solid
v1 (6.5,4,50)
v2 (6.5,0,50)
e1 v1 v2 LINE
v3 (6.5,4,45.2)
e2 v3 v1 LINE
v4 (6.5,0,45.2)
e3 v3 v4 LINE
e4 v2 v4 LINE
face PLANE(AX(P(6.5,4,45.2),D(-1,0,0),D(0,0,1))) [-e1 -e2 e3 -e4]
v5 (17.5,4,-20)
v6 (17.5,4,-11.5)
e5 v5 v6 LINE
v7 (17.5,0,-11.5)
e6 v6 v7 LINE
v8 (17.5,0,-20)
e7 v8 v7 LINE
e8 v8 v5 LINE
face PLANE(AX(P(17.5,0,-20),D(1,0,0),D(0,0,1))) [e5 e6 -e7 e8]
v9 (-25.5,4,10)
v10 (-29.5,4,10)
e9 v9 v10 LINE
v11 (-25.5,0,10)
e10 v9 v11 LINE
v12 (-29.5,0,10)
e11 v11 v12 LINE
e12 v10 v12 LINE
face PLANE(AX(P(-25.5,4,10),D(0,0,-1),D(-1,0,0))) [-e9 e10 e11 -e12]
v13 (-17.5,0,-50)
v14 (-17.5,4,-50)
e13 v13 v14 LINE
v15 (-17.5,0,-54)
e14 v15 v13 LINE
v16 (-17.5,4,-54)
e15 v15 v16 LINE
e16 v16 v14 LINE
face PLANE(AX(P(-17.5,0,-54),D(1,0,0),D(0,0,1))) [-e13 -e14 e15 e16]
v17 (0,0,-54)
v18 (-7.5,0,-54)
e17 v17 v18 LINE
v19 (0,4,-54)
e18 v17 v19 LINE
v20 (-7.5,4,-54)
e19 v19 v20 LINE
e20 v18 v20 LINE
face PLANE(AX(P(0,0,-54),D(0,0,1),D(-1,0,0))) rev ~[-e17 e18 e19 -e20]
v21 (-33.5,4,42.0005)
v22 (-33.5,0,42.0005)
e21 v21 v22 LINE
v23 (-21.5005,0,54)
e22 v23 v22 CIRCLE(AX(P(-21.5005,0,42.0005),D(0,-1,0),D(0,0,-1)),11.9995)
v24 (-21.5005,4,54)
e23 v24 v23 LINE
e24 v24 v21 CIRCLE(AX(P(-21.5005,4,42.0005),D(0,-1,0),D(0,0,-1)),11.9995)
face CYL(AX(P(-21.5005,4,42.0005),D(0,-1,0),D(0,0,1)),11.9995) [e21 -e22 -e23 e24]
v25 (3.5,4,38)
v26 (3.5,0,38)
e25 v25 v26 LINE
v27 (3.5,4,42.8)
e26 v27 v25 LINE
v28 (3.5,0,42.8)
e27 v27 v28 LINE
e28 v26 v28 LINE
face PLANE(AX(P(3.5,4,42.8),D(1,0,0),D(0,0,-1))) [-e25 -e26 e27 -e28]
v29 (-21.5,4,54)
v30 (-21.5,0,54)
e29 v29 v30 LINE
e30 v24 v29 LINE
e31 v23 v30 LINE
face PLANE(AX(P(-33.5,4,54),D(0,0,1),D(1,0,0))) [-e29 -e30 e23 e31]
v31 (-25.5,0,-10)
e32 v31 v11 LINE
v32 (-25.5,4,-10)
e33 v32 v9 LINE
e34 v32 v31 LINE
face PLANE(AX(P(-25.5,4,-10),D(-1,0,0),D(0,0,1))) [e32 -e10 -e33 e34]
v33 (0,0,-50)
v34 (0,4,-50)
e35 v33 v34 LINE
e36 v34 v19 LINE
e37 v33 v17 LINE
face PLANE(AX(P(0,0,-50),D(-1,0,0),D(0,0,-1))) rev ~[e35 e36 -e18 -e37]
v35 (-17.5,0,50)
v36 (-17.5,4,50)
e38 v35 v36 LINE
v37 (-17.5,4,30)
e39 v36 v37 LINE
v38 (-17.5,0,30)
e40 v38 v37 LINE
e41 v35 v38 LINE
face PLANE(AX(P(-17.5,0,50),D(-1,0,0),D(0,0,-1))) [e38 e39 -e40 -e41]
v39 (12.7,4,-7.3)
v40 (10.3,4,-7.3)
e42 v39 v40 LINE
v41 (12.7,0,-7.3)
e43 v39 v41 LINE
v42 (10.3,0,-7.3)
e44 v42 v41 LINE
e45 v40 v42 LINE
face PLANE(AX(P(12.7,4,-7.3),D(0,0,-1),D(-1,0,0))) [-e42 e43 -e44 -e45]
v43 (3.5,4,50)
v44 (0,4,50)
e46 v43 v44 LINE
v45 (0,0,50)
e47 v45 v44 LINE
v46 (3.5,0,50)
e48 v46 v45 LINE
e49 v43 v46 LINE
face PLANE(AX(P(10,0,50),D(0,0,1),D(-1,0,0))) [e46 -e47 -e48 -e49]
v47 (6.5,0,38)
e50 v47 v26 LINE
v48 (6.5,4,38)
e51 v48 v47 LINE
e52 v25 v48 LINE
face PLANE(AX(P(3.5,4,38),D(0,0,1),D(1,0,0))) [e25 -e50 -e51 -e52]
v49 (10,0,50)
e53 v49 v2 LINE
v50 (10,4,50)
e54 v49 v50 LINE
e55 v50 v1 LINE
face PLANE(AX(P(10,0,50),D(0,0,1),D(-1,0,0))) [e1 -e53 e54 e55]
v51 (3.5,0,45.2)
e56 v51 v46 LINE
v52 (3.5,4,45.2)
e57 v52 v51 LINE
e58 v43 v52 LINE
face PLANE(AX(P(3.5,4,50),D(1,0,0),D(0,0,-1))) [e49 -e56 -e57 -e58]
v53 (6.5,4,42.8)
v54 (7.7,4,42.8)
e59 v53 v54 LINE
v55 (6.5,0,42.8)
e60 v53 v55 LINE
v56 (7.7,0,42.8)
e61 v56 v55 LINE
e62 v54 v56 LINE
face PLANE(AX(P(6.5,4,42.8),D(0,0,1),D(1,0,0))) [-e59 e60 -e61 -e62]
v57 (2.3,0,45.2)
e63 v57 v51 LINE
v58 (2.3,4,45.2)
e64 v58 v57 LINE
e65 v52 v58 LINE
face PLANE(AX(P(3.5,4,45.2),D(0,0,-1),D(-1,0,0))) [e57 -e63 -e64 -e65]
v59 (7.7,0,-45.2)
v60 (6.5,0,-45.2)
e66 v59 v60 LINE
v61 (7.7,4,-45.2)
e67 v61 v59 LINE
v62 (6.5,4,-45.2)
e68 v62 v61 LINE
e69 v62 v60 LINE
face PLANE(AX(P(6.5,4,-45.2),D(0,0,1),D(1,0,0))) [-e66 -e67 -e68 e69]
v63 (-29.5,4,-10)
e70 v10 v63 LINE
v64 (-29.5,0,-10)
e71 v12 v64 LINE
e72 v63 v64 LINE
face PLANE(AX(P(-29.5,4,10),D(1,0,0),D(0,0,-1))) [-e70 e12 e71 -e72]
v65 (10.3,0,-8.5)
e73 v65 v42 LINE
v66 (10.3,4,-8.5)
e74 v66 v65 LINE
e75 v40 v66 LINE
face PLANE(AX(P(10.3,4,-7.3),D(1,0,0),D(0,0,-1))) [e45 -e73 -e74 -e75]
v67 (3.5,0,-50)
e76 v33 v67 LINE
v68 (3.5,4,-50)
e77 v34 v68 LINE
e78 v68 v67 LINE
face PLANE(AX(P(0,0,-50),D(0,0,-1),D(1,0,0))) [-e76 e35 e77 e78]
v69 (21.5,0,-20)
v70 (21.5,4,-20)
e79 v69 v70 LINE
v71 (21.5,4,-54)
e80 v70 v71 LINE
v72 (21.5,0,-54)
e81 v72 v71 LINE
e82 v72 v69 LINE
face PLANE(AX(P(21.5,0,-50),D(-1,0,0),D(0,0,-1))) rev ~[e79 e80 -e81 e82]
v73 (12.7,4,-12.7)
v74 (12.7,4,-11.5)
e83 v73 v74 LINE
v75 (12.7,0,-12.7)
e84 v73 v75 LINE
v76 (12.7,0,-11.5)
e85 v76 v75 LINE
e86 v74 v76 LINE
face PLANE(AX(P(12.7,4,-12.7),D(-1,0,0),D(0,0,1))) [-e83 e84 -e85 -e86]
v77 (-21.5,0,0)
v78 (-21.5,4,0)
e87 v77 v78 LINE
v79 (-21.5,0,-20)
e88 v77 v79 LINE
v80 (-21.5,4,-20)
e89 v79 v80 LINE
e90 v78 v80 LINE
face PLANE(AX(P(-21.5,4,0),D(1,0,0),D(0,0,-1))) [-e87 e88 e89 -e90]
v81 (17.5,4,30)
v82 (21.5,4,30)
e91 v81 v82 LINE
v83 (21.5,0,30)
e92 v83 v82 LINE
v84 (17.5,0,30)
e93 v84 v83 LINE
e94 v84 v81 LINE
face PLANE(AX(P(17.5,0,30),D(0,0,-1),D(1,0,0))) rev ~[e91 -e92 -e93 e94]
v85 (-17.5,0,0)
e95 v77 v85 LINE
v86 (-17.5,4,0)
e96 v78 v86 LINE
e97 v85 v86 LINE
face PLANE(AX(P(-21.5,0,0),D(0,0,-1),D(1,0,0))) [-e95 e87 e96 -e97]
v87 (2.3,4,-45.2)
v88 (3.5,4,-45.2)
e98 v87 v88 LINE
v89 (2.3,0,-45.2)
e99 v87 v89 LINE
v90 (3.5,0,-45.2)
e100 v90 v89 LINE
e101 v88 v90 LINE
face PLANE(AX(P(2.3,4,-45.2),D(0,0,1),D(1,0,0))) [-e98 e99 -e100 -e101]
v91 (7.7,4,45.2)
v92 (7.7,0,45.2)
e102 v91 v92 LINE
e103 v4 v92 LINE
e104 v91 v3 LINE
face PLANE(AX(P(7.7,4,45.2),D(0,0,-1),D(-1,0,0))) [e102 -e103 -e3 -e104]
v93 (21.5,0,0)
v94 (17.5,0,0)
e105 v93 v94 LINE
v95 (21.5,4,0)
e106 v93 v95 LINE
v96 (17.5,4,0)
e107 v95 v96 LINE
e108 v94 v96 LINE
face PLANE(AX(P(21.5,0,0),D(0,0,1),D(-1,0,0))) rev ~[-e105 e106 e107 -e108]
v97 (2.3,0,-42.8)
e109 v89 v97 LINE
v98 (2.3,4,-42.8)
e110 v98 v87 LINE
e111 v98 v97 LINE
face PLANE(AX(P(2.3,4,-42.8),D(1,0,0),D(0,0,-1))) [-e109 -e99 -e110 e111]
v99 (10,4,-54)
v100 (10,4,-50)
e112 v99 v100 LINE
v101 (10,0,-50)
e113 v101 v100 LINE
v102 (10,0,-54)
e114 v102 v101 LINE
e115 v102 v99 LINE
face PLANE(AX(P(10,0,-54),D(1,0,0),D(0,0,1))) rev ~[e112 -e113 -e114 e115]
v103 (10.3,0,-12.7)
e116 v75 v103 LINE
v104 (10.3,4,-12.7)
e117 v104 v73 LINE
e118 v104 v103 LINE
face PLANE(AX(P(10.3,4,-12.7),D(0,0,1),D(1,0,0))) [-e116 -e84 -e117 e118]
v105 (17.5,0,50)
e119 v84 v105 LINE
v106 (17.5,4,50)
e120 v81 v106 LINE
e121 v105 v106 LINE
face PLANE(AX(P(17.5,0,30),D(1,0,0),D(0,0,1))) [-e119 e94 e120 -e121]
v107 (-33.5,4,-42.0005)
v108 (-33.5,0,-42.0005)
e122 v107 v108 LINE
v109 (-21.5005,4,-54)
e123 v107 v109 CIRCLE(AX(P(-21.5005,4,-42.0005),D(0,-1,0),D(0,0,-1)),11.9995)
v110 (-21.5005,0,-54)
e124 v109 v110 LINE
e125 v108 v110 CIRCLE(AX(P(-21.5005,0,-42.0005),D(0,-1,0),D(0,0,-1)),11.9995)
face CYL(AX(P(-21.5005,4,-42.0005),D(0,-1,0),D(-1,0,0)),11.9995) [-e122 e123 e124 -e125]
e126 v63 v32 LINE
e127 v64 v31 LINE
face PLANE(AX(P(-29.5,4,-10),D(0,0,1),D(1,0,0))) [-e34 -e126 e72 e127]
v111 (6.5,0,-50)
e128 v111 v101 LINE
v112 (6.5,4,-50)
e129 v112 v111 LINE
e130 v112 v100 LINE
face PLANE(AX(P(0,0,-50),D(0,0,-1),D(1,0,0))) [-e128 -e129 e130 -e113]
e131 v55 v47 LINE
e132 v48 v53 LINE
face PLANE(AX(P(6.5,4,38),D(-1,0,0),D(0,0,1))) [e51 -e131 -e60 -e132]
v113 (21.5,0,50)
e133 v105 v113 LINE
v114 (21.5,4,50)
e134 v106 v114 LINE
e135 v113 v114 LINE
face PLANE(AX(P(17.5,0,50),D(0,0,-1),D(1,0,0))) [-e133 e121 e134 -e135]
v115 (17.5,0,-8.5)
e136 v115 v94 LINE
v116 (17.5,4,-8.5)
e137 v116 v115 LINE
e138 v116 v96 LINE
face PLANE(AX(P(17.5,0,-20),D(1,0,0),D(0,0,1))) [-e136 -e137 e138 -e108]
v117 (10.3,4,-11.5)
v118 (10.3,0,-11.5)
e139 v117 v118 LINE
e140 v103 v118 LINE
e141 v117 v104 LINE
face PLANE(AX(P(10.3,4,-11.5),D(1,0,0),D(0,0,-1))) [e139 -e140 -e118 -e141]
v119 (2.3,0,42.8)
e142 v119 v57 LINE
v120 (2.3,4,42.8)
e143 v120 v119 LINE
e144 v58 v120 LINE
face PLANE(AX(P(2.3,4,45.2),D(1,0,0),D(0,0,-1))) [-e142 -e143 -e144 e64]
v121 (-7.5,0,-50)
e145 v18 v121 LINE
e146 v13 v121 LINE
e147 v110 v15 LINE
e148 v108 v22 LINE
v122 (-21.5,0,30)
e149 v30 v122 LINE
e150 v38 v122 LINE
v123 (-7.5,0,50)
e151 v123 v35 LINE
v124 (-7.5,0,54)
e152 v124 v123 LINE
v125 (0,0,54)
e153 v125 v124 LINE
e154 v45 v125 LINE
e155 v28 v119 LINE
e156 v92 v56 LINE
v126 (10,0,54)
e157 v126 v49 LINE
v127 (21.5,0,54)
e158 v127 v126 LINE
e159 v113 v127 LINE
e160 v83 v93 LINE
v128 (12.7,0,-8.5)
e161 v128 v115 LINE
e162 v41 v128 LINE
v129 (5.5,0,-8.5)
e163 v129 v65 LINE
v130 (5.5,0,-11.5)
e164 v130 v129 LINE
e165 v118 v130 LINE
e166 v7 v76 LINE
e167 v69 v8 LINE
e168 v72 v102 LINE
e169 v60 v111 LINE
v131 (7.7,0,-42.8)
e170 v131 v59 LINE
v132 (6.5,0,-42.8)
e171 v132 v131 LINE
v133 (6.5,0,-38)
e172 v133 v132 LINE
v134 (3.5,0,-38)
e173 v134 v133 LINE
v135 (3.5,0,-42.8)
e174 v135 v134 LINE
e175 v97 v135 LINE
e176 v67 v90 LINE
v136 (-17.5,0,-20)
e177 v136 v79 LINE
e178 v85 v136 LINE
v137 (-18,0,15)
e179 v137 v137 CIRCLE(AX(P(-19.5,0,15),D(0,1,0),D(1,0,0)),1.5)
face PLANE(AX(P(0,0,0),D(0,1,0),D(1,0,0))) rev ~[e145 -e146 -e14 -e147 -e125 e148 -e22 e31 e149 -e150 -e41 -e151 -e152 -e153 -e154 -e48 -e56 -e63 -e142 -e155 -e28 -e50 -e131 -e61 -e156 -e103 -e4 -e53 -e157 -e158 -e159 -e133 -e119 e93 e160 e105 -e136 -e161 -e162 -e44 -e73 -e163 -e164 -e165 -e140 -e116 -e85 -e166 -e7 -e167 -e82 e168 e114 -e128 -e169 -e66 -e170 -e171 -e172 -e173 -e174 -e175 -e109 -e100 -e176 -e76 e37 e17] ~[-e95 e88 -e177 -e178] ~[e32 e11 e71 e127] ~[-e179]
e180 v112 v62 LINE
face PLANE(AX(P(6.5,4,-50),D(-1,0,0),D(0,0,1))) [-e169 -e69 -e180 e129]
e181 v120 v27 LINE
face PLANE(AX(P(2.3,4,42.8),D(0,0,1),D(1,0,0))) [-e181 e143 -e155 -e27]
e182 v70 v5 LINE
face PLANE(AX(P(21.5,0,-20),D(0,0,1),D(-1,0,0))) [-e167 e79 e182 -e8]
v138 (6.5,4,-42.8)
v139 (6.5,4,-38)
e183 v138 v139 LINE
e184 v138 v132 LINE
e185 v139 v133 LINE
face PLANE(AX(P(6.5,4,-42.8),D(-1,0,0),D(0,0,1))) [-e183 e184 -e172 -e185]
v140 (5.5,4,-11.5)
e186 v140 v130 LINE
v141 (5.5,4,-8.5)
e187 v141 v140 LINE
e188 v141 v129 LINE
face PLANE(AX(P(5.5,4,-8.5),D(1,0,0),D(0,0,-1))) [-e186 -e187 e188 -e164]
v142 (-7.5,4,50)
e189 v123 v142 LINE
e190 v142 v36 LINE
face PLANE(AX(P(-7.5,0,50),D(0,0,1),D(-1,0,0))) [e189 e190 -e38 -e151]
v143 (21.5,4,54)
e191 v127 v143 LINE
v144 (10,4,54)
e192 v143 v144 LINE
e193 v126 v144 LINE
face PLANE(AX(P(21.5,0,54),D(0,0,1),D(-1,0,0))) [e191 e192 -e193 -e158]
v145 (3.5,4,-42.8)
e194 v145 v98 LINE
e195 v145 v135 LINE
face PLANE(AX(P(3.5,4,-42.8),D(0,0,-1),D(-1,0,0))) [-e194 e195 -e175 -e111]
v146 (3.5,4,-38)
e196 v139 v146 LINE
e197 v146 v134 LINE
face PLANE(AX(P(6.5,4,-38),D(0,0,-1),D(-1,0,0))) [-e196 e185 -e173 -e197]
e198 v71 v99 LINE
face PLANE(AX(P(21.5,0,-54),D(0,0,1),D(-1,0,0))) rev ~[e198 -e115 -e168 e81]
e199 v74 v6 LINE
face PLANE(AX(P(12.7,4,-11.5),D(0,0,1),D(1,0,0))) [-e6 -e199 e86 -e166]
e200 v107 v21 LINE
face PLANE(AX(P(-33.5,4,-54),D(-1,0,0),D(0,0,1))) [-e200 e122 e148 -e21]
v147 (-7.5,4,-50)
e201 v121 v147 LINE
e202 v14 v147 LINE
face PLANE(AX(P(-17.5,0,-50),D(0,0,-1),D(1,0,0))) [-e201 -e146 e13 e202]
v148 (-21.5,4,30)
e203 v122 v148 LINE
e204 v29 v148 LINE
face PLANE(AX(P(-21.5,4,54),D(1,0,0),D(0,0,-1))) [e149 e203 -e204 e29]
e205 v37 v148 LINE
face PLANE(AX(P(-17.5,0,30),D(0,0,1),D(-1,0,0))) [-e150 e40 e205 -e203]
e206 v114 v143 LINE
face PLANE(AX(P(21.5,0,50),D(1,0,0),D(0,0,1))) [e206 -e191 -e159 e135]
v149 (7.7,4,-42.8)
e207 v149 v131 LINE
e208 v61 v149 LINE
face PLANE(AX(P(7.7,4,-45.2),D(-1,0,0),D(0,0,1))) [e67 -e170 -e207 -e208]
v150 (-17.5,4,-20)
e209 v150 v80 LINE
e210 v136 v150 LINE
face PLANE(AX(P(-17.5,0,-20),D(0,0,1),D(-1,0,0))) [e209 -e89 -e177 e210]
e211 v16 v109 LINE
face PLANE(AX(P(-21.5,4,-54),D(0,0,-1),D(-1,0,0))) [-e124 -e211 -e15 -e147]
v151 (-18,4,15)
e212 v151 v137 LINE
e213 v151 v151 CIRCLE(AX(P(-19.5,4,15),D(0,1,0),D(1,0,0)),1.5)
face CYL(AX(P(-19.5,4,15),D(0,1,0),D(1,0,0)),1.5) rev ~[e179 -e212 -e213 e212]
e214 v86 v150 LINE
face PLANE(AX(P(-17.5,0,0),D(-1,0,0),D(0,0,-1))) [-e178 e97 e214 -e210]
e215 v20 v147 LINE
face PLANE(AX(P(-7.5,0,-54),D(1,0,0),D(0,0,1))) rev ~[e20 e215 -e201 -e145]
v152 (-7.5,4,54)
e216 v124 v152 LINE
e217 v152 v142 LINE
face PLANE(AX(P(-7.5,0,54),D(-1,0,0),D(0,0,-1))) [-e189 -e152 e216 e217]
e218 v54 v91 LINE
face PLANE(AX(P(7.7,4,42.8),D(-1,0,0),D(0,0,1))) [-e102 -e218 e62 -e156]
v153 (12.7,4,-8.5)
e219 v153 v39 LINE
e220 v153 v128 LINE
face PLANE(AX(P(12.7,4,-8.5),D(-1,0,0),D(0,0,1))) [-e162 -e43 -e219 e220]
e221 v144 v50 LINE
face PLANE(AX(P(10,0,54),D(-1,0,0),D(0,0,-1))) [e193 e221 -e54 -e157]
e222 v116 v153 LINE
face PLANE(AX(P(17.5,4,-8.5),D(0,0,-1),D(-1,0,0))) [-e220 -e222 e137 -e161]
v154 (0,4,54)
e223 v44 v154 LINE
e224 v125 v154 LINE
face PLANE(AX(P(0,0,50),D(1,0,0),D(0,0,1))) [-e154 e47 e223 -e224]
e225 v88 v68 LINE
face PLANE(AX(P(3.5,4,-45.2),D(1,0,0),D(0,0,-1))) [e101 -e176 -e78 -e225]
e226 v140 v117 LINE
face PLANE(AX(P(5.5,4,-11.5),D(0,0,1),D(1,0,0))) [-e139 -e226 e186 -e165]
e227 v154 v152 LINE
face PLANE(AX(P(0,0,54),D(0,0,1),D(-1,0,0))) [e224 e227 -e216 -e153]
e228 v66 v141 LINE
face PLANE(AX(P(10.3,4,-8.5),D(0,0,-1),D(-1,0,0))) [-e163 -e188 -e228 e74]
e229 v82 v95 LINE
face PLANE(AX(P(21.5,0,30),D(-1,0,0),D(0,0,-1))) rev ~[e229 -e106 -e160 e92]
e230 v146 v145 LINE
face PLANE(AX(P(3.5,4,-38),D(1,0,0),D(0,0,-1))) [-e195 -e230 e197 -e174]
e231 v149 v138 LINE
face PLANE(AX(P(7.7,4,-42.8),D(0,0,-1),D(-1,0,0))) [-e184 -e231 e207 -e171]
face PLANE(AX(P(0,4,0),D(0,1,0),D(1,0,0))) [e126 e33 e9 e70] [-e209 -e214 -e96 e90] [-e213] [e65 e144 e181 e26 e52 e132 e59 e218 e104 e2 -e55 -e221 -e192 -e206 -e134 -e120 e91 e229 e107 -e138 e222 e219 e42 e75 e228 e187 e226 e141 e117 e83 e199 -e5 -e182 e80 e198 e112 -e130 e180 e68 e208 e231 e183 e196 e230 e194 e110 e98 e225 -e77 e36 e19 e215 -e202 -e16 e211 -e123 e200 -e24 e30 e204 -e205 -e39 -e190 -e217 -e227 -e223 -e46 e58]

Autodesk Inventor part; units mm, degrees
ref_plane "YZ Plane" through (0, 0, 0) normal (1, 0, 0) x (0, 1, 0)
ref_plane "XZ Plane" through (0, 0, 0) normal (0, 1, 0) x (-1, 0, 0)
ref_plane "XY Plane" through (0, 0, 0) normal (0, 0, 1) x (1, 0, 0)
sketch "Sketch1" plane through (0, 0, 0) normal (0, 1, 0) x (-1, 0, 0)
  line L0 (-17.5, 50) -> (17.5, 50)
  line L1 (17.5, 50) -> (17.5, -50)
  line L2 (17.5, -50) -> (-17.5, -50)
  line L3 (-17.5, -50) -> (-17.5, 50)
  line L4 (-17.5, 50) -> (17.5, -50) construction
  line L5 (17.5, 50) -> (-17.5, -50) construction
  line L6 (7.5, 50) -> (0, 50)
  line L7 (0, 50) -> (0, 54)
  line L8 (0, 54) -> (7.5, 54)
  line L9 (7.5, 54) -> (7.5, 50)
  line L10 (-10, 50) -> (-21.5, 50)
  line L11 (-21.5, 50) -> (-21.5, 54)
  line L12 (-21.5, 54) -> (-10, 54)
  line L13 (-10, 54) -> (-10, 50)
  line L14 (17.5, 30) -> (21.5, 30)
  line L15 (21.5, 30) -> (21.5, 0)
  line L16 (21.5, 0) -> (17.5, 0)
  line L17 (17.5, 0) -> (17.5, 30)
  line L18 (17.5, -20) -> (21.5, -20)
  line L19 (21.5, -20) -> (21.5, -54)
  line L20 (21.5, -54) -> (17.5, -54)
  line L21 (17.5, -54) -> (17.5, -20)
  line L22 (7.5, -50) -> (0, -50)
  line L23 (0, -50) -> (0, -54)
  line L24 (0, -54) -> (7.5, -54)
  line L25 (7.5, -54) -> (7.5, -50)
  line L26 (-10, -50) -> (-21.5, -50)
  line L27 (-21.5, -50) -> (-21.5, -54)
  line L28 (-21.5, -54) -> (-10, -54)
  line L29 (-10, -54) -> (-10, -50)
  line L30 (-17.5, 30) -> (-21.5, 30)
  line L31 (-21.5, 30) -> (-21.5, 0)
  line L32 (-21.5, 0) -> (-17.5, 0)
  line L33 (-17.5, 0) -> (-17.5, 30)
  line L34 (-17.5, -50) -> (-21.5, -50)
  line L35 (-21.5, -50) -> (-21.5, -20)
  line L36 (-21.5, -20) -> (-17.5, -20)
  line L37 (-17.5, -20) -> (-17.5, -50)
  point P0 (0, 0)
  point P1 (17.5, 0)
  point P2 (-17.5, 50)
  point P3 (-17.5, 0)
  point P4 (-21.5, -50)
  point P5 (17.5, -50)
  point P6 (19.5, -54)
  dimension "d0" = 35
  dimension "d2" = 7.5
  dimension "d3" = 4
  dimension "d4" = 11.5
  dimension "d5" = 4
  dimension "d6" = 10
  dimension "d7" = 10
  dimension "d8" = 4
  dimension "d9" = 30
  dimension "d10" = 4
  dimension "d11" = 34
  dimension "d12" = 20
  dimension "d13" = 20
  dimension "d14" = 7.5
  dimension "d15" = 4
  dimension "d16" = 11.5
  dimension "d17" = 4
  dimension "d18" = 10
  dimension "d19" = 10
  dimension "d20" = 4
  dimension "d21" = 30
  dimension "d22" = 20
  dimension "d23" = 4
  dimension "d24" = 30
  dimension "d27" = 4
extrude "Extrusion1" add sketch "Sketch1" along normal blind 4
sketch "Sketch2" plane through (0, 4, 0) normal (0, 1, 0) x (1, 0, 0)
  line L0 (-21.5, 54) -> (-33.5, 54)
  line L1 (-33.5, 54) -> (-33.5, -54)
  line L2 (-33.5, -54) -> (-21.5, -54)
  line L3 (-21.5, -54) -> (-21.5, 54)
  line L4 (-21.5, 54) -> (-21.5, 20) projected
  line L5 (-21.5, 20) -> (-17.5, 20) projected
  line L6 (-17.5, 20) -> (-17.5, 0) projected
  line L7 (-17.5, 0) -> (-21.5, 0) projected
  line L8 (-21.5, 0) -> (-21.5, -30) projected
  line L9 (-21.5, -30) -> (-17.5, -30) projected
  line L10 (-17.5, -30) -> (-17.5, -50) projected
  line L11 (-17.5, -50) -> (-7.5, -50) projected
  line L12 (-7.5, -50) -> (-7.5, -54) projected
  line L13 (-7.5, -54) -> (0, -54) projected
  line L14 (0, -54) -> (0, -50) projected
  line L15 (0, -50) -> (10, -50) projected
  line L16 (10, -50) -> (10, -54) projected
  line L17 (10, -54) -> (21.5, -54) projected
  line L18 (21.5, -54) -> (21.5, -50) projected
  line L19 (21.5, -50) -> (17.5, -50) projected
  line L20 (17.5, -50) -> (17.5, -30) projected
  line L21 (17.5, -30) -> (21.5, -30) projected
  line L22 (21.5, -30) -> (21.5, 0) projected
  line L23 (21.5, 0) -> (17.5, 0) projected
  line L24 (17.5, 0) -> (17.5, 20) projected
  line L25 (17.5, 20) -> (21.5, 20) projected
  line L26 (21.5, 20) -> (21.5, 54) projected
  line L27 (21.5, 54) -> (10, 54) projected
  line L28 (10, 54) -> (10, 50) projected
  line L29 (10, 50) -> (0, 50) projected
  line L30 (0, 50) -> (0, 54) projected
  line L31 (0, 54) -> (-7.5, 54) projected
  line L32 (-7.5, 54) -> (-7.5, 50) projected
  line L33 (-7.5, 50) -> (-17.5, 50) projected
  line L34 (-17.5, 50) -> (-17.5, 54) projected
  line L35 (-17.5, 54) -> (-21.5, 54) projected
  line L36 (-7.5, -54) -> (0, -54) projected
  line L37 (-33.5, 54) -> (21.5, -54) construction
  line L38 (-29.5, 10) -> (-25.5, 10)
  line L39 (-25.5, 10) -> (-25.5, -10)
  line L40 (-25.5, -10) -> (-29.5, -10)
  line L41 (-29.5, -10) -> (-29.5, 10)
  point P0 (0, 0)
  point P1 (-6, 0)
  point P2 (-25.5, 0)
  dimension "d28" = 51
  dimension "d34" = 20
  dimension "d35" = 4
  dimension "d36" = 4
extrude "Extrusion2" add sketch "Sketch2" against normal up to surface (4 mm away) contours L3 L2 L1 L0
sketch "Sketch3" plane through (0, 4, 0) normal (0, 1, 0) x (1, 0, 0)
  line L0 (3.5, 45.2) -> (3.5, 50) projected
  line L1 (3.5, 50) -> (0, 50) projected
  line L2 (0, 50) -> (0, 54) construction
  line L3 (0, 54) -> (-7.5, 54) construction
  line L4 (-7.5, 54) -> (-7.5, 50) construction
  line L5 (-7.5, 50) -> (-17.5, 50) construction
  line L6 (-17.5, 50) -> (-17.5, 54) construction
  line L7 (-17.5, 54) -> (-21.5, 54) construction
  line L8 (-17.5, 0) -> (-21.5, 0) construction
  line L9 (-21.5, 0) -> (-21.5, -30) construction
  line L10 (-21.5, -30) -> (-17.5, -30) construction
  line L11 (-17.5, -30) -> (-17.5, -50) construction
  line L12 (-17.5, -50) -> (-7.5, -50) construction
  line L13 (-7.5, -50) -> (-7.5, -54) construction
  line L14 (-7.5, -54) -> (0, -54) construction
  line L15 (0, -54) -> (0, -50) construction
  line L16 (0, -50) -> (3.5, -50) projected
  line L17 (3.5, -50) -> (3.5, -45.2) projected
  line L18 (3.5, -45.2) -> (2.3, -45.2) projected
  line L19 (2.3, -45.2) -> (2.3, -42.8) projected
  line L20 (2.3, -42.8) -> (3.5, -42.8) projected
  line L21 (3.5, -42.8) -> (3.5, -38) projected
  line L22 (3.5, -38) -> (6.5, -38) projected
  line L23 (6.5, -38) -> (6.5, -42.8) projected
  line L24 (6.5, -42.8) -> (7.7, -42.8) projected
  line L25 (7.7, -42.8) -> (7.7, -45.2) projected
  line L26 (7.7, -45.2) -> (6.5, -45.2) projected
  line L27 (6.5, -45.2) -> (6.5, -50) projected
  line L28 (6.5, -50) -> (10, -50) construction
  line L29 (10, -50) -> (10, -54) construction
  line L30 (10, -54) -> (21.5, -54) construction
  line L31 (21.5, -54) -> (21.5, -50) construction
  line L32 (21.5, -50) -> (17.5, -50) construction
  line L33 (17.5, -50) -> (17.5, -30) construction
  line L34 (17.5, -30) -> (21.5, -30) construction
  line L35 (21.5, 0) -> (17.5, 0) construction
  line L36 (17.5, 0) -> (17.5, 8.5) construction
  line L37 (17.5, 8.5) -> (12.7, 8.5) projected
  line L38 (12.7, 8.5) -> (12.7, 7.3) projected
  line L39 (12.7, 7.3) -> (10.3, 7.3) projected
  line L40 (10.3, 7.3) -> (10.3, 8.5) projected
  line L41 (10.3, 8.5) -> (5.5, 8.5) projected
  line L42 (5.5, 8.5) -> (5.5, 11.5) projected
  line L43 (5.5, 11.5) -> (10.3, 11.5) projected
  line L44 (10.3, 11.5) -> (10.3, 12.7) projected
  line L45 (10.3, 12.7) -> (12.7, 12.7) projected
  line L46 (12.7, 12.7) -> (12.7, 11.5) projected
  line L47 (12.7, 11.5) -> (17.5, 11.5) projected
  line L48 (17.5, 11.5) -> (17.5, 20) construction
  line L49 (17.5, 20) -> (21.5, 20) construction
  line L50 (21.5, 20) -> (21.5, 54) construction
  line L51 (21.5, 54) -> (10, 54) construction
  line L52 (10, 54) -> (10, 50) construction
  line L53 (10, 50) -> (6.5, 50) projected
  line L54 (6.5, 50) -> (6.5, 45.2) projected
  line L55 (6.5, 45.2) -> (7.7, 45.2) projected
  line L56 (7.7, 45.2) -> (7.7, 42.8) projected
  line L57 (7.7, 42.8) -> (6.5, 42.8) projected
  line L58 (6.5, 42.8) -> (6.5, 38) projected
  line L59 (6.5, 38) -> (3.5, 38) projected
  line L60 (3.5, 38) -> (3.5, 42.8) projected
  line L61 (3.5, 42.8) -> (2.3, 42.8) projected
  line L62 (2.3, 42.8) -> (2.3, 45.2) projected
  line L63 (2.3, 45.2) -> (3.5, 45.2) projected
  circle A0 centre (-19.5, -15) radius 1.5 projected
  line L64 (-21.5, -30) -> (-17.5, -30) construction
  line L65 (-17.5, -30) -> (-17.5, -50) construction
  line L66 (-17.5, -50) -> (-7.5, -50) construction
  line L67 (-7.5, -50) -> (-7.5, -54) construction
  line L68 (-7.5, -54) -> (0, -54) construction
  line L69 (0, -54) -> (0, -50) construction
  line L70 (0, -50) -> (10, -50) projected
  line L71 (10, -50) -> (10, -54) construction
  line L72 (10, -54) -> (21.5, -54) construction
  line L73 (21.5, -54) -> (21.5, -50) construction
  line L74 (21.5, -50) -> (17.5, -50) construction
  line L75 (17.5, -50) -> (17.5, -30) construction
  line L76 (17.5, -30) -> (21.5, -30) construction
  line L77 (21.5, -30) -> (21.5, 0) construction
  line L78 (21.5, 0) -> (17.5, 0) construction
  line L79 (17.5, 0) -> (17.5, 20) projected
  line L80 (17.5, 20) -> (21.5, 20) construction
  line L81 (21.5, 20) -> (21.5, 54) construction
  line L82 (21.5, 54) -> (10, 54) construction
  line L83 (10, 54) -> (10, 50) construction
  line L84 (10, 50) -> (0, 50) projected
  line L85 (0, 50) -> (0, 54) construction
  line L86 (0, 54) -> (-7.5, 54) construction
  line L87 (-7.5, 54) -> (-7.5, 50) construction
  line L88 (-7.5, 50) -> (-17.5, 50) construction
  line L89 (-17.5, 50) -> (-17.5, 54) construction
  line L90 (-17.5, 54) -> (-33.5, 54) construction
  line L91 (-33.5, 54) -> (-33.5, -54) construction
  line L92 (-33.5, -54) -> (-21.5, -54) construction
  line L93 (-21.5, -54) -> (-21.5, -30) construction
  line L94 (-29.5, 10) -> (-25.5, 10) construction
  line L95 (-25.5, 10) -> (-25.5, -10) construction
  line L96 (-25.5, -10) -> (-29.5, -10) construction
  line L97 (-29.5, -10) -> (-29.5, 10) construction
  line L98 (-21.5, 0) -> (-21.5, 20) construction
  line L99 (-21.5, 20) -> (-17.5, 20) construction
  line L100 (-17.5, 20) -> (-17.5, 0) projected
  line L101 (-17.5, 0) -> (-21.5, 0) construction
  point P0 (0, 0)
  point P1 (-17.5, 11.5)
  point P2 (-12.7, 8.5)
extrude "Extrusion3" cut sketch "Sketch3" against normal up to next
fillet "Fillet1" radius 12 2 edges at (-33.5, 2, 54) (-33.5, 2, -54)
properties part number "FloorButtonHolder_Bottom_V1_B" material "MDF Medium Density Fiberboard"
